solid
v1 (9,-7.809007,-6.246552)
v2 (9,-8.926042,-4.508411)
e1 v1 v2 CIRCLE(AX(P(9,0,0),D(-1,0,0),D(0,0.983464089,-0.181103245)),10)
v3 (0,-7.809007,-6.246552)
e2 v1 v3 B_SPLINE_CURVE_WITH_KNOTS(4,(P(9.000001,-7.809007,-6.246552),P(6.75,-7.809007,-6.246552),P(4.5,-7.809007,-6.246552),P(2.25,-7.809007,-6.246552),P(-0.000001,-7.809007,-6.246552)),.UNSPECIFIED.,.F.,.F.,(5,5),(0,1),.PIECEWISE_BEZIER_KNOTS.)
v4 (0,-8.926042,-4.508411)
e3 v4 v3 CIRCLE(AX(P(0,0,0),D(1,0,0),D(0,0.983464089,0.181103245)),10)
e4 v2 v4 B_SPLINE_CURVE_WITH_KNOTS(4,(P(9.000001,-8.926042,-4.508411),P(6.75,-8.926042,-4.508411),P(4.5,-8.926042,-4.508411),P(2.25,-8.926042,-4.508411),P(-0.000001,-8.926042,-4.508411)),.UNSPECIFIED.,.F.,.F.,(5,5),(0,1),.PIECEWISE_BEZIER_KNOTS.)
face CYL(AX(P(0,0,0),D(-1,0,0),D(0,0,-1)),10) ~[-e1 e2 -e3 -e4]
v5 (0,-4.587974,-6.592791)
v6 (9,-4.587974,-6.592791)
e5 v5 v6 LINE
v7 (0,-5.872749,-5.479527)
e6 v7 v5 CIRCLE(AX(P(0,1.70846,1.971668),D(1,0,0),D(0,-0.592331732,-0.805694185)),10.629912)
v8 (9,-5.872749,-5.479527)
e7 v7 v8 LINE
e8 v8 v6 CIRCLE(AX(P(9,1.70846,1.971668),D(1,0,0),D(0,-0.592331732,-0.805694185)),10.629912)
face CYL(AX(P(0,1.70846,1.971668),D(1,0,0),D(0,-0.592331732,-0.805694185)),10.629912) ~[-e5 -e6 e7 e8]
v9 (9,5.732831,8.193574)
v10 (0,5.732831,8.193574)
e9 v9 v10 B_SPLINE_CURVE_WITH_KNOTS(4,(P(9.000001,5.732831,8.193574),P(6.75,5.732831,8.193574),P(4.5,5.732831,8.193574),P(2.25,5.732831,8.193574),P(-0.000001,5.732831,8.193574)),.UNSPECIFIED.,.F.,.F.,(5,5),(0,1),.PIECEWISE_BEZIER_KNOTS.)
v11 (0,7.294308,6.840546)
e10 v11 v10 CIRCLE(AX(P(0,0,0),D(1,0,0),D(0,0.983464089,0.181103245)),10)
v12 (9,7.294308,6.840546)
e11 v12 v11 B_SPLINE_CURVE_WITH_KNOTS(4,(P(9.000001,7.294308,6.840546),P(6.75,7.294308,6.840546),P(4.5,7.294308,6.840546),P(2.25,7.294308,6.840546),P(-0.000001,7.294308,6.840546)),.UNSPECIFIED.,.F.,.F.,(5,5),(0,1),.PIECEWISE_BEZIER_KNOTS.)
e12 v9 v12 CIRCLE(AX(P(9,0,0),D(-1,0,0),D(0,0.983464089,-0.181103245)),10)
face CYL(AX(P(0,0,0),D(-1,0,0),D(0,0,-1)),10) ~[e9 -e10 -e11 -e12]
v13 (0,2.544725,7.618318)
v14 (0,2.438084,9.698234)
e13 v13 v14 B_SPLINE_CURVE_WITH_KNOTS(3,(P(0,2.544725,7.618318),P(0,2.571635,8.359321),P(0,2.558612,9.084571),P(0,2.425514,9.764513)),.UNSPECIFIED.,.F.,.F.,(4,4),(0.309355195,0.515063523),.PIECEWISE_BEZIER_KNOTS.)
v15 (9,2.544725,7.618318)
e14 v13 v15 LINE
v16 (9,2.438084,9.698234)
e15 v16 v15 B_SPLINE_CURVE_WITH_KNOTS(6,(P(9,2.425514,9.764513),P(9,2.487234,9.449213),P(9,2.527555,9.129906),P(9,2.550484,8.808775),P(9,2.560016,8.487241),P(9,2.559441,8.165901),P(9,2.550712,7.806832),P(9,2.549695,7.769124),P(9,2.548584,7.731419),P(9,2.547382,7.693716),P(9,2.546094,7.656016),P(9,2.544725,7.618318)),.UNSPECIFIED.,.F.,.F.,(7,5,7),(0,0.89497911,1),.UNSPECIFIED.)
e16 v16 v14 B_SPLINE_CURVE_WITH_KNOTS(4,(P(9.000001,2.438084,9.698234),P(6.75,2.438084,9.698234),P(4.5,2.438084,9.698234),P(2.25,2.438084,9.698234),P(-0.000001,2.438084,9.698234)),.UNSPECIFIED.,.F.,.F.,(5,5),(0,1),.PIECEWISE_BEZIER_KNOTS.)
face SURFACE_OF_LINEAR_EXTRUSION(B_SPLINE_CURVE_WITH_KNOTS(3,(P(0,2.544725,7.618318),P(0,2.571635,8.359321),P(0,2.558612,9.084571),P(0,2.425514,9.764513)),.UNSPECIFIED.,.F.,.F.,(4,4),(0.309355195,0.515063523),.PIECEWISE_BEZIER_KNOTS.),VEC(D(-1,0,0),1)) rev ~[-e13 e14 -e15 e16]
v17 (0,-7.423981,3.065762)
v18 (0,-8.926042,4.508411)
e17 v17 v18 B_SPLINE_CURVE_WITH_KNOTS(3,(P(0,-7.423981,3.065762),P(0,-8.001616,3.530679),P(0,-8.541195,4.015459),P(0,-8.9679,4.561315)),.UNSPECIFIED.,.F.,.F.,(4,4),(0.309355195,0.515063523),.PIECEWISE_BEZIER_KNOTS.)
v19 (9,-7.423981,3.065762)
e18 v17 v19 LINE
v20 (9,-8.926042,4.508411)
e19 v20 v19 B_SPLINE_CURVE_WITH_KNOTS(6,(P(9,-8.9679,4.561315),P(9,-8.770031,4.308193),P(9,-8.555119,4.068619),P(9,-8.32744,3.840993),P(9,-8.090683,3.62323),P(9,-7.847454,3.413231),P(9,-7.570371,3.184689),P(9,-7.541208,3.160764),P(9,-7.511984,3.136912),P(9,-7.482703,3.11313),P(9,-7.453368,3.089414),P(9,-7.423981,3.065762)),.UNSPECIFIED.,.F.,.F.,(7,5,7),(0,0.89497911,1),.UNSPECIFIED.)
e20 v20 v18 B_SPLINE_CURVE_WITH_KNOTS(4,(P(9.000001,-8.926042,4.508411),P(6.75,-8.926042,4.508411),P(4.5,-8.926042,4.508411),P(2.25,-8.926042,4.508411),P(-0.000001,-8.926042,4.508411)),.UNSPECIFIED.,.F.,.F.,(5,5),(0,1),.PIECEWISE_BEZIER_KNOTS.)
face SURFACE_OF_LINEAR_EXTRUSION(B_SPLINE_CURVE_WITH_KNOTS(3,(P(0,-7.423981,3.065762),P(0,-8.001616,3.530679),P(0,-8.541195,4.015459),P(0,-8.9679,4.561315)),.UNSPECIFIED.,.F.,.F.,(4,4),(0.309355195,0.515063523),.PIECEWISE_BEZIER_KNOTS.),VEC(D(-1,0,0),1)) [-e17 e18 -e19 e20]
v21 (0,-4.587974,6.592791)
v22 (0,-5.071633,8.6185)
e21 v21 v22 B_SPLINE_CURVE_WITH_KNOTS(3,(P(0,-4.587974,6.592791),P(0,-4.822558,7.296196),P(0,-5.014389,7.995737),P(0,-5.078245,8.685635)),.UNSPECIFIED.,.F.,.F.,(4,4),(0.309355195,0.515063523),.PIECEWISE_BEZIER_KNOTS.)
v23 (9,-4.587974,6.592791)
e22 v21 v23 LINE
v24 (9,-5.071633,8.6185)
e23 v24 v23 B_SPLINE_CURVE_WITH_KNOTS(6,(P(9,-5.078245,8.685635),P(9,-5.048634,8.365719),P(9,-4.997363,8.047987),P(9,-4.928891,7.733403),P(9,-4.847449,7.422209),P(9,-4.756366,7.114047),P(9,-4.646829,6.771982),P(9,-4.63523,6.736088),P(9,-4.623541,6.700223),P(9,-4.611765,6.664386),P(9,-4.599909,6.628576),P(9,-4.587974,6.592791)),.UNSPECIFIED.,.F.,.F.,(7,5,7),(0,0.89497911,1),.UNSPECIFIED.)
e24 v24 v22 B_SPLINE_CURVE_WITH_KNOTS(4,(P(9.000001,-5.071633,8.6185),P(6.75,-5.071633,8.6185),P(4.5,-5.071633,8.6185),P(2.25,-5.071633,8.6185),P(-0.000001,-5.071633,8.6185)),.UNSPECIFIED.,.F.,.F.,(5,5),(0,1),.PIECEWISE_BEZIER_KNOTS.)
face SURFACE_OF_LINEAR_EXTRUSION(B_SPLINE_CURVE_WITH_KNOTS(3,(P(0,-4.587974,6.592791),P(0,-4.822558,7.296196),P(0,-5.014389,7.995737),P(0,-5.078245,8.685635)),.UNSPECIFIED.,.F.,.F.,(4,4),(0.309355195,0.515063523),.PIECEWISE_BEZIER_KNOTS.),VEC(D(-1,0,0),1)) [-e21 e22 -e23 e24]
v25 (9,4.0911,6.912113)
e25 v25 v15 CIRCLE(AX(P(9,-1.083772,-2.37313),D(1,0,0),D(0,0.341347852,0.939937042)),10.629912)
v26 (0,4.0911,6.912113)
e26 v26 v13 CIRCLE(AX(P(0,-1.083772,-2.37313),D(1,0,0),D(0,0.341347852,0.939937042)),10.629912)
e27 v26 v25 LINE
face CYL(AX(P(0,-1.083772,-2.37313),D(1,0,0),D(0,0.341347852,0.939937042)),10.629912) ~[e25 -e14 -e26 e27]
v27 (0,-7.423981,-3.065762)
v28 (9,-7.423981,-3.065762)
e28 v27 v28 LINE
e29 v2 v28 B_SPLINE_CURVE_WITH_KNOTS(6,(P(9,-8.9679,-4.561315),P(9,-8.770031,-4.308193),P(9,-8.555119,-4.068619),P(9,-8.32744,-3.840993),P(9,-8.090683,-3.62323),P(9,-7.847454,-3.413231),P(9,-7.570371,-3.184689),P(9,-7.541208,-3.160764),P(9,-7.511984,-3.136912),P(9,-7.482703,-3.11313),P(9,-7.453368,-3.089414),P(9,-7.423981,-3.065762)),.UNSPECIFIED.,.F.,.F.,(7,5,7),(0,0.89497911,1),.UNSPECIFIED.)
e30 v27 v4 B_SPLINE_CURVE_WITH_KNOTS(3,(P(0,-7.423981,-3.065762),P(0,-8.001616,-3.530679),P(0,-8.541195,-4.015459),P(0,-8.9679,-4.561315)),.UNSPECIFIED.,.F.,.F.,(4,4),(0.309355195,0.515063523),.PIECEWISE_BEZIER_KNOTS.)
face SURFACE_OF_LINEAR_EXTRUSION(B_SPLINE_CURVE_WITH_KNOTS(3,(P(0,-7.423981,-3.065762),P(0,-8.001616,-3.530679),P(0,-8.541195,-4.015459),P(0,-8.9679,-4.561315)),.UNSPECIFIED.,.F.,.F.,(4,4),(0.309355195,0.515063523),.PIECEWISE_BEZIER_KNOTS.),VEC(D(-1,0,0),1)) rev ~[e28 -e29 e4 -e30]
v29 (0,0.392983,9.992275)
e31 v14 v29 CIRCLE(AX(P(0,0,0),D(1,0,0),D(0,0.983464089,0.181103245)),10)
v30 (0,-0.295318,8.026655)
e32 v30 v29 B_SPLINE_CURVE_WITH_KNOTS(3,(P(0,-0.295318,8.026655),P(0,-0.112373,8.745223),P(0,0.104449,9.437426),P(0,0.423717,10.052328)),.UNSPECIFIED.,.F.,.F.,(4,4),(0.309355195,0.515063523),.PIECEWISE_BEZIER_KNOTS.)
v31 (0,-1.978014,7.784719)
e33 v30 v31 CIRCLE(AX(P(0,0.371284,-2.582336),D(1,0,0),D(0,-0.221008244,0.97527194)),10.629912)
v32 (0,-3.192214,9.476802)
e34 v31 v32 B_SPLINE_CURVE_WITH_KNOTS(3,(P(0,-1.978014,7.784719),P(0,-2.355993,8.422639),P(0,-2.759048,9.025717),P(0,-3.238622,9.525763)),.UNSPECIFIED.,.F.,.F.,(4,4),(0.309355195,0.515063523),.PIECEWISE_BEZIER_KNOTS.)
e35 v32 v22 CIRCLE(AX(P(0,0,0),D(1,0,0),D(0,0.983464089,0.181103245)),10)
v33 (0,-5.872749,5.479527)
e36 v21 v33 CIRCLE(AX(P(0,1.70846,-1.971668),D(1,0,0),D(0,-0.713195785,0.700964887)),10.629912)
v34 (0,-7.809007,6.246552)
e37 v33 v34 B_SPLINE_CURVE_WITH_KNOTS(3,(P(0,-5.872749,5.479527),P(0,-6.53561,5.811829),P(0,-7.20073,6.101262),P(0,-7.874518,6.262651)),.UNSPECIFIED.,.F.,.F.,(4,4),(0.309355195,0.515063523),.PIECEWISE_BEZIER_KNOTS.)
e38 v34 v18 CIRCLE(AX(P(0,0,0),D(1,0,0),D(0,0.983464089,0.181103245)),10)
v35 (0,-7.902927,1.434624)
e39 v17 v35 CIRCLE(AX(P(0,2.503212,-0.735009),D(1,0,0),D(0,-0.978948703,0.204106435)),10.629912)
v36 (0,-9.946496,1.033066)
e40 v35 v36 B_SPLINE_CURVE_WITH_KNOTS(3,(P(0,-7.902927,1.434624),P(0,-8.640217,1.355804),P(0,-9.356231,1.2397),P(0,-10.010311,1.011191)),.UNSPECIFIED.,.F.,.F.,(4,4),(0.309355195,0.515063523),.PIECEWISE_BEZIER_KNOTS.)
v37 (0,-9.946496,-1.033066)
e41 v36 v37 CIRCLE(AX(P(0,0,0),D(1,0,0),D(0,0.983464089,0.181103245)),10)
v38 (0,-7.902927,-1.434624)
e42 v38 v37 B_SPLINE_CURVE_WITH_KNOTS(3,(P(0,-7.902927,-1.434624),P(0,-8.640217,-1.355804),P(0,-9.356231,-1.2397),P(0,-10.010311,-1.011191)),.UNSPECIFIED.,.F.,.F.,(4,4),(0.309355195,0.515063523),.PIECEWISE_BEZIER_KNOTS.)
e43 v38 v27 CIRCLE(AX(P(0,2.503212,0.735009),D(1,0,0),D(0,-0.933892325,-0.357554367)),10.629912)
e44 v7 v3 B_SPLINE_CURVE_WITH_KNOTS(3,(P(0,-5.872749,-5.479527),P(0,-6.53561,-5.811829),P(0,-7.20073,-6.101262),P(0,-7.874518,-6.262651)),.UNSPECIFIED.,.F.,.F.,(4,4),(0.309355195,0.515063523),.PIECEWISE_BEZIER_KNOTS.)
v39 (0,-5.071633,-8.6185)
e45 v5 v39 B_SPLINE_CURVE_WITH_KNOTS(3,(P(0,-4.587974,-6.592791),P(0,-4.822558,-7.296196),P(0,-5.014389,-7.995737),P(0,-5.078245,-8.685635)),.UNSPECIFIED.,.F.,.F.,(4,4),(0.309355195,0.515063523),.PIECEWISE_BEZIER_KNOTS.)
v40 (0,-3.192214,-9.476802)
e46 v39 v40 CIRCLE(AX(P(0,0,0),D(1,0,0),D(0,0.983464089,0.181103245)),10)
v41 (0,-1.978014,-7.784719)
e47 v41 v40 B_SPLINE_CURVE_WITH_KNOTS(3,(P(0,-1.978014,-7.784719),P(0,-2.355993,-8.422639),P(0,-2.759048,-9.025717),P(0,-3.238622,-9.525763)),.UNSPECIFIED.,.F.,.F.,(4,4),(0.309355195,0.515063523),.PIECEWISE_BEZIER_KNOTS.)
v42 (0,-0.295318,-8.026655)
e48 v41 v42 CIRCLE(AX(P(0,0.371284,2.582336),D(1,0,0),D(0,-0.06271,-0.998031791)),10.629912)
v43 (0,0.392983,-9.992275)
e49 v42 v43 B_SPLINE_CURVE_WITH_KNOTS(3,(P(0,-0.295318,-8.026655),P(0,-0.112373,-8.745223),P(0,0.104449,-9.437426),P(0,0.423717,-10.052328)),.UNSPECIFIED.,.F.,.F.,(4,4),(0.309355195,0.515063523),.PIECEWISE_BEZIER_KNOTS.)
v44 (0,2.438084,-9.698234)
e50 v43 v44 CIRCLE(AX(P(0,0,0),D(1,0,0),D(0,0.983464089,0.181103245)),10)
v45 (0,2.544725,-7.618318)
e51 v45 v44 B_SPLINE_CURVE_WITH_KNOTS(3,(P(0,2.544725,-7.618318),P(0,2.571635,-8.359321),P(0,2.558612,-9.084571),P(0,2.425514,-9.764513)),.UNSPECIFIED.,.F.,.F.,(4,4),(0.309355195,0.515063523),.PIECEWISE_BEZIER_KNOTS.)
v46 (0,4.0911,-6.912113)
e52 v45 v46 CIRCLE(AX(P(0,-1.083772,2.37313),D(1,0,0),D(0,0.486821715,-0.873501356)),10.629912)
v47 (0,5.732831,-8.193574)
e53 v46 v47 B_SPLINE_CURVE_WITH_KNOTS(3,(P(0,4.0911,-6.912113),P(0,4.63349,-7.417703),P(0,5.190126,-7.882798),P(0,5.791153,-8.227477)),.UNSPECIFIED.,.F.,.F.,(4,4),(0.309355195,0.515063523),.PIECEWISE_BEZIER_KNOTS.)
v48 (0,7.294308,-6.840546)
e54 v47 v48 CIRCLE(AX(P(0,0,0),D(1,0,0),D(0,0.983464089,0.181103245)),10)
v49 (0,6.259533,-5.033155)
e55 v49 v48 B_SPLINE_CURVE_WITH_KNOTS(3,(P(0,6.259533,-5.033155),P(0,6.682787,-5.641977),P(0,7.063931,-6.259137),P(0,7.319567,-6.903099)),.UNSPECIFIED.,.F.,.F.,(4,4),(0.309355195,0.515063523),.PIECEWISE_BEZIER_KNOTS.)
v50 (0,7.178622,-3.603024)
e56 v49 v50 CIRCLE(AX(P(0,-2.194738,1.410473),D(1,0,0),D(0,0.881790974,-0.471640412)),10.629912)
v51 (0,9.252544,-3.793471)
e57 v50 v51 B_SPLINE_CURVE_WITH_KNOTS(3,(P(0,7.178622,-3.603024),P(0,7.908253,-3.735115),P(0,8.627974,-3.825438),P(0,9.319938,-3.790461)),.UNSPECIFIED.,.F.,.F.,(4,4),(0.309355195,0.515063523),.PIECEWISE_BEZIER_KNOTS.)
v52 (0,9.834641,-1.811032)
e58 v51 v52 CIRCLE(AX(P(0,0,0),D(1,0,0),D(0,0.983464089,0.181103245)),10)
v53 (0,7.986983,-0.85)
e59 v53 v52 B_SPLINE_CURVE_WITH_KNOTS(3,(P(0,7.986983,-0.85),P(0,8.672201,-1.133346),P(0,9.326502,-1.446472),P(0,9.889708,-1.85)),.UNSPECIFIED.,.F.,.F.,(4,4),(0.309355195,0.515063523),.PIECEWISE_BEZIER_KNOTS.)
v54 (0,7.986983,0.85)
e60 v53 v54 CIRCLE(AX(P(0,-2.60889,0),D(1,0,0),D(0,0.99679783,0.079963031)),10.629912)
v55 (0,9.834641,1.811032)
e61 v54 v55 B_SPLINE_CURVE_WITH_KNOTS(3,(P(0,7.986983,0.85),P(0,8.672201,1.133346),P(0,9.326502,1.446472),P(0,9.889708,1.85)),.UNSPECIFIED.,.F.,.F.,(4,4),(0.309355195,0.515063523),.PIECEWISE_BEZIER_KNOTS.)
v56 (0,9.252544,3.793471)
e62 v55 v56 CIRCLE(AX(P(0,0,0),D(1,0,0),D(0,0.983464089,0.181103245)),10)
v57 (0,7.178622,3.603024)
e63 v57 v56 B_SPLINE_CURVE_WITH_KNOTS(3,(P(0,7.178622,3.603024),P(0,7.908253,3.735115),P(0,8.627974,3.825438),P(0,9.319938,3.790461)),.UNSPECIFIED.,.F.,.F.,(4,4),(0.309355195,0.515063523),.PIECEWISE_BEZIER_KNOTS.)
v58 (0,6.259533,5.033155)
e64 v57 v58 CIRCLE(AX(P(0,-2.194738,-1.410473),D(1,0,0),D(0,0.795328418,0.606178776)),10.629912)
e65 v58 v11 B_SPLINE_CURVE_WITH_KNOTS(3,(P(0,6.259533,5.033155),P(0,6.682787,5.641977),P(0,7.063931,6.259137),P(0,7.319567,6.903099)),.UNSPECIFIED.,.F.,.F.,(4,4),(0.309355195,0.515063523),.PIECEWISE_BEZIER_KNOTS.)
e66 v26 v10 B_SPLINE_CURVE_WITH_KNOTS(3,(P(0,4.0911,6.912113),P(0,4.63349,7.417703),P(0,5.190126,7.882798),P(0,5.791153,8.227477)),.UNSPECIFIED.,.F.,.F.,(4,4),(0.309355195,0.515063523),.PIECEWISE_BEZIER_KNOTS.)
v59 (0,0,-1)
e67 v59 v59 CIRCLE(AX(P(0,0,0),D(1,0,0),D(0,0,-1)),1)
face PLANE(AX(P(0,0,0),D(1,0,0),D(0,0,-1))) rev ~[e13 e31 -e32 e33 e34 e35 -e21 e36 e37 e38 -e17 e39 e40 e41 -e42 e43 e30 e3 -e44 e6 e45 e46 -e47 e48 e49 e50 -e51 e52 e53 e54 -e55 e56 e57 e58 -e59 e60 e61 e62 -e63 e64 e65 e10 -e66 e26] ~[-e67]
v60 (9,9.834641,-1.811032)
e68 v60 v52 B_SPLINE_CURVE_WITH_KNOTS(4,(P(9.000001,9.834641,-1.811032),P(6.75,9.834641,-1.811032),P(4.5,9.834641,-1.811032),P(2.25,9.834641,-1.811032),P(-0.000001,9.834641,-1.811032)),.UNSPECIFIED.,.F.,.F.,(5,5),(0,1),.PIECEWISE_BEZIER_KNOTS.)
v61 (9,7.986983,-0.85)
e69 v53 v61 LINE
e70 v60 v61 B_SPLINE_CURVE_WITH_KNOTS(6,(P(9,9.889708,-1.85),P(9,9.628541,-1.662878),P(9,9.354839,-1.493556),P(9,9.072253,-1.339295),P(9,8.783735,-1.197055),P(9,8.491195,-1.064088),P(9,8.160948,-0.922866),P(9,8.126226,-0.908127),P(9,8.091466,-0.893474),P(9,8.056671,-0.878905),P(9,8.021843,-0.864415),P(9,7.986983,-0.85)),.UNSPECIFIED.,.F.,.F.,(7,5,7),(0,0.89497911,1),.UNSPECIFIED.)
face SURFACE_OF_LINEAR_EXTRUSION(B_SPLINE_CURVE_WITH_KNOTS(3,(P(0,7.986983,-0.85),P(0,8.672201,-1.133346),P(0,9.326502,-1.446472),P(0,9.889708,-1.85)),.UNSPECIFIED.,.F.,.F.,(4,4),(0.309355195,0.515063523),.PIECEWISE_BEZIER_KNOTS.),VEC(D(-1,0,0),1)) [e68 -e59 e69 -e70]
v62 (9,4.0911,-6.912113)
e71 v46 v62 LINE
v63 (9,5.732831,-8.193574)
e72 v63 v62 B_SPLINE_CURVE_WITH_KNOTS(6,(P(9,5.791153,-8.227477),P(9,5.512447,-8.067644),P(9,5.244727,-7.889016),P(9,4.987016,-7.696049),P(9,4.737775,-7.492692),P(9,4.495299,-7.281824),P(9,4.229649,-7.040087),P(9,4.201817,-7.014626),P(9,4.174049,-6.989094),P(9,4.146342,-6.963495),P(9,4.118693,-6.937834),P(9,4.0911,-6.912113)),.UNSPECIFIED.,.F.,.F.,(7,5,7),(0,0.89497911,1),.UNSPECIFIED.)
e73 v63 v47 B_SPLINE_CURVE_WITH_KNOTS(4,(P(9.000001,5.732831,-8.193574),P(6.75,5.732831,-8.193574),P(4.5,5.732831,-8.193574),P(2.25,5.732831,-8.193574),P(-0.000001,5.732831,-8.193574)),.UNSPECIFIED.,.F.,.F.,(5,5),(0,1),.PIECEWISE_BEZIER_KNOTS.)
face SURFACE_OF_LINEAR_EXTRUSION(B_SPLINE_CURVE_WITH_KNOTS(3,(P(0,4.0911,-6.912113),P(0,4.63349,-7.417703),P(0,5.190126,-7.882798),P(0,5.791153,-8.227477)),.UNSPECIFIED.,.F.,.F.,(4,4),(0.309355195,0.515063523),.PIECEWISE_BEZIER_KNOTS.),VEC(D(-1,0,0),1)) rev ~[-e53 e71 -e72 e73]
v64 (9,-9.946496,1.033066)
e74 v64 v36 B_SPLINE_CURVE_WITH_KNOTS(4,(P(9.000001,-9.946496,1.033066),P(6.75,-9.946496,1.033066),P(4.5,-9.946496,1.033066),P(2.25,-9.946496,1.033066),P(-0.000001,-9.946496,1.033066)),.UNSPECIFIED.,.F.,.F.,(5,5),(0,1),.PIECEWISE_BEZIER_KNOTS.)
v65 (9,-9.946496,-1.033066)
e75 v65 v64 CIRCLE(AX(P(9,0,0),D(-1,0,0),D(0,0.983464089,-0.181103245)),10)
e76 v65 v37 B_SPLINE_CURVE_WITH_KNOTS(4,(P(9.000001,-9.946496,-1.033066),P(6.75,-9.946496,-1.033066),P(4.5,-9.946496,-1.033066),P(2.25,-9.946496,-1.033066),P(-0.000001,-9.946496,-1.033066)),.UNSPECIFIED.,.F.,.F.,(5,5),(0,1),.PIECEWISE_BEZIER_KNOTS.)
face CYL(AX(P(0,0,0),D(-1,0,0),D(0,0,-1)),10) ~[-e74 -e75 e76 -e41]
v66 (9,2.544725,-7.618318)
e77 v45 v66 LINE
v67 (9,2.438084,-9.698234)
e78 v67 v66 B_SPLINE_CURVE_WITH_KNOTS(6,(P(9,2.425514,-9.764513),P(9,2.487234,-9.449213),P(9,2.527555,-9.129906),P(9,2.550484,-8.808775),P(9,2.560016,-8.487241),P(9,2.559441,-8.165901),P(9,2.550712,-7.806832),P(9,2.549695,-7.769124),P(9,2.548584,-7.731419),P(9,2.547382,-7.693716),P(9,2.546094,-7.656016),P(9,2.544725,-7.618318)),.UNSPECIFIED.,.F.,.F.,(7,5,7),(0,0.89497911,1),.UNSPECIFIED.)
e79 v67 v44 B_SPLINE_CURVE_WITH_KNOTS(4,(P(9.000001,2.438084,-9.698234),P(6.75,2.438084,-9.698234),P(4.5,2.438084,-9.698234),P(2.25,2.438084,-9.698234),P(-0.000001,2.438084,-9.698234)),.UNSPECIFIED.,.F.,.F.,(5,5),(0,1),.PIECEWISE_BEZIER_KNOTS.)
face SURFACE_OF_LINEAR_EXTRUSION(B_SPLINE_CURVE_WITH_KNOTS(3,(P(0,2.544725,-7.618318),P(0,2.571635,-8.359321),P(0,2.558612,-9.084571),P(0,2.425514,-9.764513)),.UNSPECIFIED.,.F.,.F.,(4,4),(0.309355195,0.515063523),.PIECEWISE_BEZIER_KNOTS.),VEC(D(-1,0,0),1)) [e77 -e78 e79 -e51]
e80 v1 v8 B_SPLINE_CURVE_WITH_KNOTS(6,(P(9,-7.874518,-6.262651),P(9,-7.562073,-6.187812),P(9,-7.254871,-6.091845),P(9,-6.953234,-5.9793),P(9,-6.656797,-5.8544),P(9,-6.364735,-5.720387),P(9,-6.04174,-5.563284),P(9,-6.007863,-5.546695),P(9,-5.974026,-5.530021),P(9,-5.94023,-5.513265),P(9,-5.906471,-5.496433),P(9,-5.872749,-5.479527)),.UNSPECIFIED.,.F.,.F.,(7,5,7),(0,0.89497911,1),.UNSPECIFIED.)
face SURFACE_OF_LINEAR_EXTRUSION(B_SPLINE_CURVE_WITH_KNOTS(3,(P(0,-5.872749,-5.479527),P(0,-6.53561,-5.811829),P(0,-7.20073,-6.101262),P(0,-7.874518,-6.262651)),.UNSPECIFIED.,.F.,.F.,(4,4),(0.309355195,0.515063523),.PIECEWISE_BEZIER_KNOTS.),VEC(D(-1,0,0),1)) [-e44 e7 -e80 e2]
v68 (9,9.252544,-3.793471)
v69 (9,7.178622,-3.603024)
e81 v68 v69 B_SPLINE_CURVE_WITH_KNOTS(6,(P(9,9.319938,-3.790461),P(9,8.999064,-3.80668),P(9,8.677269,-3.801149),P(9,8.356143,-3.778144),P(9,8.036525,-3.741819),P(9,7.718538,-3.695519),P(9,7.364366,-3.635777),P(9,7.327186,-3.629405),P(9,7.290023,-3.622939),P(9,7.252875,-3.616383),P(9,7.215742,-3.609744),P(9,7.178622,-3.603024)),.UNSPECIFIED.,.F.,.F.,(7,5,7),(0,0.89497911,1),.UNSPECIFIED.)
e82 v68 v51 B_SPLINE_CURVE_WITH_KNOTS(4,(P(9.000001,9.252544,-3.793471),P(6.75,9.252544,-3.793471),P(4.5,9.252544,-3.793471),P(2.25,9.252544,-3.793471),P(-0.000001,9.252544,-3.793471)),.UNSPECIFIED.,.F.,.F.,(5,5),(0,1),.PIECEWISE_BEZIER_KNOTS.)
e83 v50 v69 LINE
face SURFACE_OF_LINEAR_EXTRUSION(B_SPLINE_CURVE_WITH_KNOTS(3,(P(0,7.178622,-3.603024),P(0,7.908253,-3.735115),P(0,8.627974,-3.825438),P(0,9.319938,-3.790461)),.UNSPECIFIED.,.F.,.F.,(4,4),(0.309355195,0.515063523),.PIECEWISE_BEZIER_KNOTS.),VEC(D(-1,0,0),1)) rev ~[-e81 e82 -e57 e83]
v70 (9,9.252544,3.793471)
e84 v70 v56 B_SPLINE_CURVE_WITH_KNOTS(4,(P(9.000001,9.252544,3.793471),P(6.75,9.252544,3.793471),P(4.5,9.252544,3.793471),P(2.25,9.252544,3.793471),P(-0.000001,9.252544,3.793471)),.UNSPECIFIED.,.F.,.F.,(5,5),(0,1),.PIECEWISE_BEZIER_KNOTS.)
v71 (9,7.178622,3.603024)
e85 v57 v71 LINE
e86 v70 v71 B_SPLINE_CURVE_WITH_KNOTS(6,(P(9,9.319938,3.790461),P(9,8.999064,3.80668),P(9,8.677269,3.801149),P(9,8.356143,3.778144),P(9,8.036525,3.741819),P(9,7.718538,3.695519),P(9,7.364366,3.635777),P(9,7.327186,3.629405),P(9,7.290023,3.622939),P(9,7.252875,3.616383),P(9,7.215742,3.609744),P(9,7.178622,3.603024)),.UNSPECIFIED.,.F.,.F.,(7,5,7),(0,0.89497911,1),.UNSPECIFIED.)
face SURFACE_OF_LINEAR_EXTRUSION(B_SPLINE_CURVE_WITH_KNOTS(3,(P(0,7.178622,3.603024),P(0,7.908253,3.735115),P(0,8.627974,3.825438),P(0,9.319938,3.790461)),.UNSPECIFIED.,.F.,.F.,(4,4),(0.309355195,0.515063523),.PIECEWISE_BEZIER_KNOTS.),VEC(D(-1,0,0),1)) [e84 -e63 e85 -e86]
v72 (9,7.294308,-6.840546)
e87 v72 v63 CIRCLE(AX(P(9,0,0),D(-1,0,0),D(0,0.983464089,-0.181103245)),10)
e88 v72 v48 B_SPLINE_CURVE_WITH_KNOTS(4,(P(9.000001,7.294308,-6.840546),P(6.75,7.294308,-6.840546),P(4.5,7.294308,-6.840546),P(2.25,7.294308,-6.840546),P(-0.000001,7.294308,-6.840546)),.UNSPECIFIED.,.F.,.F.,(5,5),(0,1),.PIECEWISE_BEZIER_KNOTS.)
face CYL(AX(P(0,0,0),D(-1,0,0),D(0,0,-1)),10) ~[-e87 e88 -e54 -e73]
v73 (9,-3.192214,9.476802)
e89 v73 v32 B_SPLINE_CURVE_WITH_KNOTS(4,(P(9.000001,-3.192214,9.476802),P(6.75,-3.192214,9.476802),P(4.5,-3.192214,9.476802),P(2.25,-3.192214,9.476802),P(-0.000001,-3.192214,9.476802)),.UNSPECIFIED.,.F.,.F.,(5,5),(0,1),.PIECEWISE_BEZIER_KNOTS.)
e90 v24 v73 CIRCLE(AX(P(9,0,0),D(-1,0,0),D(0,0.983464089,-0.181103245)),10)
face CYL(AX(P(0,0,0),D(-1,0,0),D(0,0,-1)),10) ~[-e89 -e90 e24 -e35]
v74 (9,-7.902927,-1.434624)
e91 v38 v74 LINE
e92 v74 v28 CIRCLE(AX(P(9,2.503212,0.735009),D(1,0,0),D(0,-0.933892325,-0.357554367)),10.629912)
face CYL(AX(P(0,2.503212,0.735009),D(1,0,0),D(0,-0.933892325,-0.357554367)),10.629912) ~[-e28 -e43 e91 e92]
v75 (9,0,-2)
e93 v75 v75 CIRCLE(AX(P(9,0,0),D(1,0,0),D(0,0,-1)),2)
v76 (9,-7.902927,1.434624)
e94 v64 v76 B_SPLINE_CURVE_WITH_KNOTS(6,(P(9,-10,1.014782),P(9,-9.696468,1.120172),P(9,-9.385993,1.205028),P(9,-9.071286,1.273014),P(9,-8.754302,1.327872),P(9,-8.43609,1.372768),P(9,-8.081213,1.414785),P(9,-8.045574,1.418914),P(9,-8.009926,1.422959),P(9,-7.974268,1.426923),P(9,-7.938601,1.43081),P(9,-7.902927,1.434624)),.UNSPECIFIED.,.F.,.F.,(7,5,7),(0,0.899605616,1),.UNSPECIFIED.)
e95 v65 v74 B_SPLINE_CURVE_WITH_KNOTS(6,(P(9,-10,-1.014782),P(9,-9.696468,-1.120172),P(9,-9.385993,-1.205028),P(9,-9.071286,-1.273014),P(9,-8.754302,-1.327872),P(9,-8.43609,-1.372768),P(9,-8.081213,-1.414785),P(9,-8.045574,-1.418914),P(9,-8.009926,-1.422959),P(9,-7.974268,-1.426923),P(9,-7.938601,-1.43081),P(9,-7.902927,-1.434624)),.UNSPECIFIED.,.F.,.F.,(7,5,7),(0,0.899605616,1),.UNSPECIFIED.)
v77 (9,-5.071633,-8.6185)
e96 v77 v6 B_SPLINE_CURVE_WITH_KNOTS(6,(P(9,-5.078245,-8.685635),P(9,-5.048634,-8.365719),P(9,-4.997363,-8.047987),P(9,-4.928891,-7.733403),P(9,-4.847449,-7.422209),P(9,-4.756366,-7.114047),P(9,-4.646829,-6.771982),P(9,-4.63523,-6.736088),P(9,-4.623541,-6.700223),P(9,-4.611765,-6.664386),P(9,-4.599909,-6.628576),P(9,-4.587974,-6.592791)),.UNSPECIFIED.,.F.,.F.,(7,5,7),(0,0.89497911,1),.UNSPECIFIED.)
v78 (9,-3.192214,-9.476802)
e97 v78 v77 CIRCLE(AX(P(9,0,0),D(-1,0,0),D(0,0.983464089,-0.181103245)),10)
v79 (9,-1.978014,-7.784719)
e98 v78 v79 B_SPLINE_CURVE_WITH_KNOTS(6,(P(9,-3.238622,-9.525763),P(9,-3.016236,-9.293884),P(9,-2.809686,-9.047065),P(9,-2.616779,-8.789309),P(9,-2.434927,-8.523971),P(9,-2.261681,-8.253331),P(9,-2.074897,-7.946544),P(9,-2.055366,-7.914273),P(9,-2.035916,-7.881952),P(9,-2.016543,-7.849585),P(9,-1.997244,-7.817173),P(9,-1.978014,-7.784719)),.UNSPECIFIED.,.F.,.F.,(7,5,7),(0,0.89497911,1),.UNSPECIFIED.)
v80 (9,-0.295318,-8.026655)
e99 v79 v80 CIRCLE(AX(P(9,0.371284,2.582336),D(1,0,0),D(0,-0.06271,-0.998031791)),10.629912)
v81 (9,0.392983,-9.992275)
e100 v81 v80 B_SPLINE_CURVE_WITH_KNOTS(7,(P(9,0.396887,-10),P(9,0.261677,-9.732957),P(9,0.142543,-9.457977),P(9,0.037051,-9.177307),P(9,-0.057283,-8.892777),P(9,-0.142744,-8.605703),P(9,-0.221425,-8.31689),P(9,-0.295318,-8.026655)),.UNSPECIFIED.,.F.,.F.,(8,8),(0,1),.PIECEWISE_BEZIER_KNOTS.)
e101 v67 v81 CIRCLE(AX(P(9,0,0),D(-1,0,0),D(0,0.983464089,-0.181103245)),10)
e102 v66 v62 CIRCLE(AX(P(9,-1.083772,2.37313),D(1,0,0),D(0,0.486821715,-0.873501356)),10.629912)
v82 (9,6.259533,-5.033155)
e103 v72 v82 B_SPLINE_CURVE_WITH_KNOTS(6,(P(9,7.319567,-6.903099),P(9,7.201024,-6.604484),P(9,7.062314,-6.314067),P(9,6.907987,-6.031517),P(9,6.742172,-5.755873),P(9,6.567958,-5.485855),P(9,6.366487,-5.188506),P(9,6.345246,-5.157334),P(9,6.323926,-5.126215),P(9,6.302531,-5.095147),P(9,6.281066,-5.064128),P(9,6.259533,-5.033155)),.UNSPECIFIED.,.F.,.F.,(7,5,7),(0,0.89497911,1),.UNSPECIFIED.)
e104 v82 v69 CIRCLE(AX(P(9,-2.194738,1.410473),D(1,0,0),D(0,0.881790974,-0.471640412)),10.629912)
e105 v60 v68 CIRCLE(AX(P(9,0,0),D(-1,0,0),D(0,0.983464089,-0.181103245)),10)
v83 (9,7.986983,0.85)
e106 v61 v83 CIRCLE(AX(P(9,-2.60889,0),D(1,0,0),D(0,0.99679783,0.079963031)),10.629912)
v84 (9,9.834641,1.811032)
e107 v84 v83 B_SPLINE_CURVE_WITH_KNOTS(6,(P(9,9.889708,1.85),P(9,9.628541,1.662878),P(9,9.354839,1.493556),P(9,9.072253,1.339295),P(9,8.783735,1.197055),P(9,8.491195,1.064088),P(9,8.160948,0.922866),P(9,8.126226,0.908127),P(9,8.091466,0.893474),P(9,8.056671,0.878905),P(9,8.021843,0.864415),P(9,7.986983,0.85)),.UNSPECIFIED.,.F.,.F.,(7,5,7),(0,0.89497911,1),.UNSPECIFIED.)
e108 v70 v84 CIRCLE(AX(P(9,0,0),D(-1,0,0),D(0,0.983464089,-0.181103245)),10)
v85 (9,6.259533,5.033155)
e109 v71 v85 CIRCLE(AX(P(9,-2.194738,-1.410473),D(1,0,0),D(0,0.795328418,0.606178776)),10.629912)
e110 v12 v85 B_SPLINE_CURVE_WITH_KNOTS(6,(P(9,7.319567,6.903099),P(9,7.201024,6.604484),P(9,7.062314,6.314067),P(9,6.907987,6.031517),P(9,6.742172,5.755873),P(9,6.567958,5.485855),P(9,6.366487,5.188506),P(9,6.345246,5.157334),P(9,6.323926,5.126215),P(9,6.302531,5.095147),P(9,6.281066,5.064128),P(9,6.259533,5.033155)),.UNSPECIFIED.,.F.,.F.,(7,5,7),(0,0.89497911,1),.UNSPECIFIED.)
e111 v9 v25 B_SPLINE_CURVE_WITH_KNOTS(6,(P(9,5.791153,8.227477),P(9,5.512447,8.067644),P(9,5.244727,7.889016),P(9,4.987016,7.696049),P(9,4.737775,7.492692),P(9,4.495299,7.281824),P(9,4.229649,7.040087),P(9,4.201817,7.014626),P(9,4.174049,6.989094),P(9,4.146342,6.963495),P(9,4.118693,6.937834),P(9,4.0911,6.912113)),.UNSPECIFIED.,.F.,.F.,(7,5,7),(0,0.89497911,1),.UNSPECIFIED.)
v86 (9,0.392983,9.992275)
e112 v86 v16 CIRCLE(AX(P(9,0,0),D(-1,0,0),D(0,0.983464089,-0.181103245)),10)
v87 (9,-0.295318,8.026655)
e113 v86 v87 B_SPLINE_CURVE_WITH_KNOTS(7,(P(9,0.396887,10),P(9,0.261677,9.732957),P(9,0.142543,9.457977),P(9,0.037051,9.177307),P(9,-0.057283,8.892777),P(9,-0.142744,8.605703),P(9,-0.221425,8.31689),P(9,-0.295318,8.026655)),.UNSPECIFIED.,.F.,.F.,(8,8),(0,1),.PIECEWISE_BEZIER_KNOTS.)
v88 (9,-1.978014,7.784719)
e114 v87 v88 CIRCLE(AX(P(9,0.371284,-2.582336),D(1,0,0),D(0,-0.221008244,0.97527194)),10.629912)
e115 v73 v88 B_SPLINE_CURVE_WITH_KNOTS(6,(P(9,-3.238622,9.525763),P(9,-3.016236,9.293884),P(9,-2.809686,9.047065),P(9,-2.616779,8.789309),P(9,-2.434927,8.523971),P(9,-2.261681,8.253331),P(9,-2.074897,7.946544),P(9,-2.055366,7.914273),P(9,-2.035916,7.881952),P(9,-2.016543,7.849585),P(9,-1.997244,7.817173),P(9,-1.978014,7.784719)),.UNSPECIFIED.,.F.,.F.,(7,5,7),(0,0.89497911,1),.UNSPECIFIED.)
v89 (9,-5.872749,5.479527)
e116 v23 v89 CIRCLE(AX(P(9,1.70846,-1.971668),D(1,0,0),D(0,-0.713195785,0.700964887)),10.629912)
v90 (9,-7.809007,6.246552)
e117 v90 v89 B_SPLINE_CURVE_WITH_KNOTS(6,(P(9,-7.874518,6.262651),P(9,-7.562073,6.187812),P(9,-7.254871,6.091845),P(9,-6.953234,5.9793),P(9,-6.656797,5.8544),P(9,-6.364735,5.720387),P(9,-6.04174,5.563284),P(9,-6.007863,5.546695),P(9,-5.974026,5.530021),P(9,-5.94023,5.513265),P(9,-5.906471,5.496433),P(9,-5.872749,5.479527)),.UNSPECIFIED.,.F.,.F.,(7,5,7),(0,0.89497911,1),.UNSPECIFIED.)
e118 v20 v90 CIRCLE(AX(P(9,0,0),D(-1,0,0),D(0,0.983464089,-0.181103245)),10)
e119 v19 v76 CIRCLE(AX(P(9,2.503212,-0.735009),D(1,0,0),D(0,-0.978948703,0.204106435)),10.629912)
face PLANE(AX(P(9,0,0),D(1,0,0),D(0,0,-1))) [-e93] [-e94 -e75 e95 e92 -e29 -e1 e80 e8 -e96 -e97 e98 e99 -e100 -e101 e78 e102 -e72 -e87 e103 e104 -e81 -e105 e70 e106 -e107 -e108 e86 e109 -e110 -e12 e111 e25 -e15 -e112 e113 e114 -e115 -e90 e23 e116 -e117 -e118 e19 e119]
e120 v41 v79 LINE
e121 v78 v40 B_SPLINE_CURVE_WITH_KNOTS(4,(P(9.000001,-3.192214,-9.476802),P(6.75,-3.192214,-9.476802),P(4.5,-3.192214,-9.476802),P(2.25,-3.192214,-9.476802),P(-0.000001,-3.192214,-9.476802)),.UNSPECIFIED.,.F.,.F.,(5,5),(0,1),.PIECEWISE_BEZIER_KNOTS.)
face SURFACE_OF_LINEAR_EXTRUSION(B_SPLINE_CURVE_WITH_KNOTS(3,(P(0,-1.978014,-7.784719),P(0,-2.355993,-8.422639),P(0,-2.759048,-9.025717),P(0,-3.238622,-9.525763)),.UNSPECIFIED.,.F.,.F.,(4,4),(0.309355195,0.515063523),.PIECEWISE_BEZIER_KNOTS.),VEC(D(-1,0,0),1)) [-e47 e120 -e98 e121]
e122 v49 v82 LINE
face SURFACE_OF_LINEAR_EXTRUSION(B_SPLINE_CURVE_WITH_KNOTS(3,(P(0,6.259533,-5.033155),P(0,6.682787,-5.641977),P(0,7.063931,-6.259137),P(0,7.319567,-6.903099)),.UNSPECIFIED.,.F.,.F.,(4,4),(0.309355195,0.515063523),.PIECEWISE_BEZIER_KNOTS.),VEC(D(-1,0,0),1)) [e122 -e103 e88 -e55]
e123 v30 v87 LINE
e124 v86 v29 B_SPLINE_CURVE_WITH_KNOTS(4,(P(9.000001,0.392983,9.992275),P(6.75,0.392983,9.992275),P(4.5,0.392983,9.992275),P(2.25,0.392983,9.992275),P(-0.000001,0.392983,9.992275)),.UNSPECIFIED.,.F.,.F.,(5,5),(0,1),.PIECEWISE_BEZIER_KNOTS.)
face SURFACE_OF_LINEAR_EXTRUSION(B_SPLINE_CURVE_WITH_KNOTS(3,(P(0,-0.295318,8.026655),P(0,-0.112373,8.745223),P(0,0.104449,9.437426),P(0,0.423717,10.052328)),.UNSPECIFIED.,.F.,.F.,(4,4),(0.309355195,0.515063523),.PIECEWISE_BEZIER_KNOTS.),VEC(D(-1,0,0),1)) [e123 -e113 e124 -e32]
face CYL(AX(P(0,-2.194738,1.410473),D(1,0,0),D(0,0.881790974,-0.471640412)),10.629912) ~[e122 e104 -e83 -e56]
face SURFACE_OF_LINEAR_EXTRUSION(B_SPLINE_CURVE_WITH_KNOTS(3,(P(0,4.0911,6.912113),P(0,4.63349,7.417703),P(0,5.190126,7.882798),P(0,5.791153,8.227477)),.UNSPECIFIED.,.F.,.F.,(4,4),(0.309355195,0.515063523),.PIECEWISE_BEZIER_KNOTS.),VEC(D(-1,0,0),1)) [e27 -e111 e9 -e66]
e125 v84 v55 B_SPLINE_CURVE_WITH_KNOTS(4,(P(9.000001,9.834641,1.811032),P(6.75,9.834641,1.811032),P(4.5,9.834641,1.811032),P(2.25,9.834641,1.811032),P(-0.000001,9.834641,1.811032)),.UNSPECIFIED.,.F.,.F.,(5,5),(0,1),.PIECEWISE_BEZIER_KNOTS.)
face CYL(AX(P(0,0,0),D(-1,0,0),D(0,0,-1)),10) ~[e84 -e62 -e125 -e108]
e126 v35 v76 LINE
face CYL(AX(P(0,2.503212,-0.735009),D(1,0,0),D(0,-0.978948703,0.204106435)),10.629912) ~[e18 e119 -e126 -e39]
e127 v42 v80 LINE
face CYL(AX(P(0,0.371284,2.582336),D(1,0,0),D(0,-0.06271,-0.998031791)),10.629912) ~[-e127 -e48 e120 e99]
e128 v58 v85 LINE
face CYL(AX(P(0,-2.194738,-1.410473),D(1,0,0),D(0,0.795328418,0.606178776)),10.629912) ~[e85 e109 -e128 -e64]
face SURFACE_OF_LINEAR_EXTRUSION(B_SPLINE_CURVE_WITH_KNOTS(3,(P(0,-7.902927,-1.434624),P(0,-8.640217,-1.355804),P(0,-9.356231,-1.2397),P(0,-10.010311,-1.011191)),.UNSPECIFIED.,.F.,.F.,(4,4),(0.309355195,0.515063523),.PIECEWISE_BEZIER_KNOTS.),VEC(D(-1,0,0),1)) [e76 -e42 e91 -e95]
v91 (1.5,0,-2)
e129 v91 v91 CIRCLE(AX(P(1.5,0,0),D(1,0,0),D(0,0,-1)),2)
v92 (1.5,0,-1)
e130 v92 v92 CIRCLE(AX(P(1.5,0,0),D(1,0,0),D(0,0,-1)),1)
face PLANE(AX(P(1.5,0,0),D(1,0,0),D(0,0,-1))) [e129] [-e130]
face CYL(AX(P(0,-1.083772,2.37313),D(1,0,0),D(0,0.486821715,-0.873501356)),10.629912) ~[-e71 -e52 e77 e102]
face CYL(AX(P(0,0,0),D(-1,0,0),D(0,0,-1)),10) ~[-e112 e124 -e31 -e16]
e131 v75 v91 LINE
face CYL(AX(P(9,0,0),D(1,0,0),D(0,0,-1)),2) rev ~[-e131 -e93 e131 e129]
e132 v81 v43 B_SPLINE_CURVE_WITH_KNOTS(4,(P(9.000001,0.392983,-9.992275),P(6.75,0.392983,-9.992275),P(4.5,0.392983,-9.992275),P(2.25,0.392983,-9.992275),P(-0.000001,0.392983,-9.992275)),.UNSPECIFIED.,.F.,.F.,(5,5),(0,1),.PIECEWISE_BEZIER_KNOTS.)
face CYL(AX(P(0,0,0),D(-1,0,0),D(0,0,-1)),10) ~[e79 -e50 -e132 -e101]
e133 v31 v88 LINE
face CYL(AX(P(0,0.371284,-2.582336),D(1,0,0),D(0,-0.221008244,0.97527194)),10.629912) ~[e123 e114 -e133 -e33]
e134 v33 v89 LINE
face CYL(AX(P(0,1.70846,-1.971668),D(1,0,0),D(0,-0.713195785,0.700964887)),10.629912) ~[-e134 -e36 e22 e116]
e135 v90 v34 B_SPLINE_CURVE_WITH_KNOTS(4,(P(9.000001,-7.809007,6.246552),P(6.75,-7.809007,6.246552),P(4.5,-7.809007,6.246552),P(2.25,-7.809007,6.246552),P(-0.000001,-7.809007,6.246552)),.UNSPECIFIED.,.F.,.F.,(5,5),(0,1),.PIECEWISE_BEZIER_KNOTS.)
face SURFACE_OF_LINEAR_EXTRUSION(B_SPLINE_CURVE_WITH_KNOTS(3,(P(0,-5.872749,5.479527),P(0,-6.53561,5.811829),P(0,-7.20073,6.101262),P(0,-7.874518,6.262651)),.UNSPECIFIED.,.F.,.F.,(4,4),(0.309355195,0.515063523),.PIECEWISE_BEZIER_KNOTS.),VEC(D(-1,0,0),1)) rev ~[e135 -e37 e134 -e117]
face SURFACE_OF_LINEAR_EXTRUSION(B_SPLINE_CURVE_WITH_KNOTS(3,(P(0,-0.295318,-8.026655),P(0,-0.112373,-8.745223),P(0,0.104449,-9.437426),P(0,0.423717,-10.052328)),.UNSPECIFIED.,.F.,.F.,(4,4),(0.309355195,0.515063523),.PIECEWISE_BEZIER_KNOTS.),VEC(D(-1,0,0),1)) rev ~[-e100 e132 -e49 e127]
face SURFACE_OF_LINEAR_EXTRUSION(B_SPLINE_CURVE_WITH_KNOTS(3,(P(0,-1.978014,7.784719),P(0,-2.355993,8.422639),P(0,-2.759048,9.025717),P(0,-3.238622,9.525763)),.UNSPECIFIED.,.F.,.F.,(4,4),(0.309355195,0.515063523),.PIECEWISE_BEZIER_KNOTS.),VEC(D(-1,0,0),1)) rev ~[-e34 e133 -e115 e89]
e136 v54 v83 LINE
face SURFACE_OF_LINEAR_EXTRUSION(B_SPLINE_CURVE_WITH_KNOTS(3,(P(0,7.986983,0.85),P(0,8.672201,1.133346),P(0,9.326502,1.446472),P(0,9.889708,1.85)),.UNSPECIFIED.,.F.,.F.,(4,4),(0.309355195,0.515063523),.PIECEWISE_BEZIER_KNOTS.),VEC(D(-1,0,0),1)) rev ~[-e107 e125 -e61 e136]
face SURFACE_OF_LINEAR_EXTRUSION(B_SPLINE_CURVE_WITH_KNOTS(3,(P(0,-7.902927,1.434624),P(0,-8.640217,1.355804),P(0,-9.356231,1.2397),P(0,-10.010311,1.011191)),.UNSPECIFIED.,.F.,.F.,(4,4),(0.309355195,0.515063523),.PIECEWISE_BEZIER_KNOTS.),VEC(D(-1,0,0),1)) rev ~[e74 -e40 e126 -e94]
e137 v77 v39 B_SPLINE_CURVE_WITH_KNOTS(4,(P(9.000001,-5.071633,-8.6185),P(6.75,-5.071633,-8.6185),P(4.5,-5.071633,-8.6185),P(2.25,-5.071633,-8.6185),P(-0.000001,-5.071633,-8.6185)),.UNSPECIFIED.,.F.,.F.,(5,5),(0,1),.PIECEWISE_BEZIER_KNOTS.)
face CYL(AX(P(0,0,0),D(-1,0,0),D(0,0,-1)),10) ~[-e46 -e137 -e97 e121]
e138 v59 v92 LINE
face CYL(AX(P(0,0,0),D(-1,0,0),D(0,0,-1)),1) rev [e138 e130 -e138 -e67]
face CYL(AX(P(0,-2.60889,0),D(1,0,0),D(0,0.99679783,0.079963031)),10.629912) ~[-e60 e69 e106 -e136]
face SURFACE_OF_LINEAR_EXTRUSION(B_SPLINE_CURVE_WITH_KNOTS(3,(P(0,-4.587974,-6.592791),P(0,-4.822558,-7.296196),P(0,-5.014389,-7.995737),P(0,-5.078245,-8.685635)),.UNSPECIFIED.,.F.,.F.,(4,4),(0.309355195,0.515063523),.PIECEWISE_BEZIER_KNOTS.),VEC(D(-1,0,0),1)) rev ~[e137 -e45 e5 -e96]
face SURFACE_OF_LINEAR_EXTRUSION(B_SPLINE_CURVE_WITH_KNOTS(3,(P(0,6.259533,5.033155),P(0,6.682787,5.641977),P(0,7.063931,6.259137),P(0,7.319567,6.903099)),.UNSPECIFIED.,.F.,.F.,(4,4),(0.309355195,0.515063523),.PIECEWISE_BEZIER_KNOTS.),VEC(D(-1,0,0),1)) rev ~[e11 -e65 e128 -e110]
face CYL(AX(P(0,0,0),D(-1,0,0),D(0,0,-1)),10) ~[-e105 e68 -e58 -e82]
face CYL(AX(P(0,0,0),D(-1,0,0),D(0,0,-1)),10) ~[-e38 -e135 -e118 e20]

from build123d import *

# Parameters (mm, degrees)
SKETCH2_R           = 10
SKETCH2_R_2         = 1
BOSS_EXTRUDE2_DEPTH = 9
CUT_EXTRUDE4_DEPTH  = 10
CIRPATTERN2_COUNT   = 11
SKETCH7_R           = 2
SKETCH7_R_2         = 1
CUT_EXTRUDE5_DEPTH  = 7.5


with BuildPart() as part:
    # Sketch2 → Boss-Extrude2 (new body)
    with BuildSketch(Plane(origin=(0, 0, 0), x_dir=(0, 0, -1), z_dir=(1, 0, 0))):
        Circle(SKETCH2_R)
        Circle(SKETCH2_R_2, mode=Mode.SUBTRACT)
    extrude(amount=BOSS_EXTRUDE2_DEPTH)

    # Sketch6 → Cut-Extrude4 (cut, symmetric)
    with BuildSketch(Plane(origin=(0, 0, 0), x_dir=(0, 0, -1), z_dir=(1, 0, 0))):
        with BuildLine():
            ThreePointArc((1.85, 9.889708377), (0, 10.025881913), (-1.85, 9.889708377))
            add(Edge.make_bspline(
                [(-0.85, 7.986983034), (-1.133345999, 8.672201219), (-1.446471777, 9.32650192), (-1.85, 9.889708377)],
                knots=[0.309355195, 0.309355195, 0.309355195, 0.309355195, 0.515063523, 0.515063523, 0.515063523, 0.515063523], degree=3))
            ThreePointArc((-0.85, 7.986983034), (0, 8.021021821), (0.85, 7.986983034))
            add(Edge.make_bspline(
                [(0.85, 7.986983034), (1.133345999, 8.672201219), (1.446471777, 9.32650192), (1.85, 9.889708377)],
                knots=[0.309355195, 0.309355195, 0.309355195, 0.309355195, 0.515063523, 0.515063523, 0.515063523, 0.515063523], degree=3))
        make_face()
    cut_extrude4 = extrude(amount=CUT_EXTRUDE4_DEPTH, both=True, mode=Mode.SUBTRACT)

    # CirPattern2: Cut-Extrude4 ×11 about axis
    cirpattern2_axis = Axis((9, 0, 0), (-1, 0, 0))
    for i in range(1, CIRPATTERN2_COUNT):
        add(cut_extrude4.rotate(cirpattern2_axis, i * 360 / CIRPATTERN2_COUNT), mode=Mode.SUBTRACT)

    # Sketch7 → Cut-Extrude5 (cut)
    with BuildSketch(Plane(origin=(9, 0, 0), x_dir=(0, 0, -1), z_dir=(1, 0, 0))):
        Circle(SKETCH7_R)
        Circle(SKETCH7_R_2, mode=Mode.SUBTRACT)
    extrude(amount=-CUT_EXTRUDE5_DEPTH, mode=Mode.SUBTRACT)


solid = part.part
